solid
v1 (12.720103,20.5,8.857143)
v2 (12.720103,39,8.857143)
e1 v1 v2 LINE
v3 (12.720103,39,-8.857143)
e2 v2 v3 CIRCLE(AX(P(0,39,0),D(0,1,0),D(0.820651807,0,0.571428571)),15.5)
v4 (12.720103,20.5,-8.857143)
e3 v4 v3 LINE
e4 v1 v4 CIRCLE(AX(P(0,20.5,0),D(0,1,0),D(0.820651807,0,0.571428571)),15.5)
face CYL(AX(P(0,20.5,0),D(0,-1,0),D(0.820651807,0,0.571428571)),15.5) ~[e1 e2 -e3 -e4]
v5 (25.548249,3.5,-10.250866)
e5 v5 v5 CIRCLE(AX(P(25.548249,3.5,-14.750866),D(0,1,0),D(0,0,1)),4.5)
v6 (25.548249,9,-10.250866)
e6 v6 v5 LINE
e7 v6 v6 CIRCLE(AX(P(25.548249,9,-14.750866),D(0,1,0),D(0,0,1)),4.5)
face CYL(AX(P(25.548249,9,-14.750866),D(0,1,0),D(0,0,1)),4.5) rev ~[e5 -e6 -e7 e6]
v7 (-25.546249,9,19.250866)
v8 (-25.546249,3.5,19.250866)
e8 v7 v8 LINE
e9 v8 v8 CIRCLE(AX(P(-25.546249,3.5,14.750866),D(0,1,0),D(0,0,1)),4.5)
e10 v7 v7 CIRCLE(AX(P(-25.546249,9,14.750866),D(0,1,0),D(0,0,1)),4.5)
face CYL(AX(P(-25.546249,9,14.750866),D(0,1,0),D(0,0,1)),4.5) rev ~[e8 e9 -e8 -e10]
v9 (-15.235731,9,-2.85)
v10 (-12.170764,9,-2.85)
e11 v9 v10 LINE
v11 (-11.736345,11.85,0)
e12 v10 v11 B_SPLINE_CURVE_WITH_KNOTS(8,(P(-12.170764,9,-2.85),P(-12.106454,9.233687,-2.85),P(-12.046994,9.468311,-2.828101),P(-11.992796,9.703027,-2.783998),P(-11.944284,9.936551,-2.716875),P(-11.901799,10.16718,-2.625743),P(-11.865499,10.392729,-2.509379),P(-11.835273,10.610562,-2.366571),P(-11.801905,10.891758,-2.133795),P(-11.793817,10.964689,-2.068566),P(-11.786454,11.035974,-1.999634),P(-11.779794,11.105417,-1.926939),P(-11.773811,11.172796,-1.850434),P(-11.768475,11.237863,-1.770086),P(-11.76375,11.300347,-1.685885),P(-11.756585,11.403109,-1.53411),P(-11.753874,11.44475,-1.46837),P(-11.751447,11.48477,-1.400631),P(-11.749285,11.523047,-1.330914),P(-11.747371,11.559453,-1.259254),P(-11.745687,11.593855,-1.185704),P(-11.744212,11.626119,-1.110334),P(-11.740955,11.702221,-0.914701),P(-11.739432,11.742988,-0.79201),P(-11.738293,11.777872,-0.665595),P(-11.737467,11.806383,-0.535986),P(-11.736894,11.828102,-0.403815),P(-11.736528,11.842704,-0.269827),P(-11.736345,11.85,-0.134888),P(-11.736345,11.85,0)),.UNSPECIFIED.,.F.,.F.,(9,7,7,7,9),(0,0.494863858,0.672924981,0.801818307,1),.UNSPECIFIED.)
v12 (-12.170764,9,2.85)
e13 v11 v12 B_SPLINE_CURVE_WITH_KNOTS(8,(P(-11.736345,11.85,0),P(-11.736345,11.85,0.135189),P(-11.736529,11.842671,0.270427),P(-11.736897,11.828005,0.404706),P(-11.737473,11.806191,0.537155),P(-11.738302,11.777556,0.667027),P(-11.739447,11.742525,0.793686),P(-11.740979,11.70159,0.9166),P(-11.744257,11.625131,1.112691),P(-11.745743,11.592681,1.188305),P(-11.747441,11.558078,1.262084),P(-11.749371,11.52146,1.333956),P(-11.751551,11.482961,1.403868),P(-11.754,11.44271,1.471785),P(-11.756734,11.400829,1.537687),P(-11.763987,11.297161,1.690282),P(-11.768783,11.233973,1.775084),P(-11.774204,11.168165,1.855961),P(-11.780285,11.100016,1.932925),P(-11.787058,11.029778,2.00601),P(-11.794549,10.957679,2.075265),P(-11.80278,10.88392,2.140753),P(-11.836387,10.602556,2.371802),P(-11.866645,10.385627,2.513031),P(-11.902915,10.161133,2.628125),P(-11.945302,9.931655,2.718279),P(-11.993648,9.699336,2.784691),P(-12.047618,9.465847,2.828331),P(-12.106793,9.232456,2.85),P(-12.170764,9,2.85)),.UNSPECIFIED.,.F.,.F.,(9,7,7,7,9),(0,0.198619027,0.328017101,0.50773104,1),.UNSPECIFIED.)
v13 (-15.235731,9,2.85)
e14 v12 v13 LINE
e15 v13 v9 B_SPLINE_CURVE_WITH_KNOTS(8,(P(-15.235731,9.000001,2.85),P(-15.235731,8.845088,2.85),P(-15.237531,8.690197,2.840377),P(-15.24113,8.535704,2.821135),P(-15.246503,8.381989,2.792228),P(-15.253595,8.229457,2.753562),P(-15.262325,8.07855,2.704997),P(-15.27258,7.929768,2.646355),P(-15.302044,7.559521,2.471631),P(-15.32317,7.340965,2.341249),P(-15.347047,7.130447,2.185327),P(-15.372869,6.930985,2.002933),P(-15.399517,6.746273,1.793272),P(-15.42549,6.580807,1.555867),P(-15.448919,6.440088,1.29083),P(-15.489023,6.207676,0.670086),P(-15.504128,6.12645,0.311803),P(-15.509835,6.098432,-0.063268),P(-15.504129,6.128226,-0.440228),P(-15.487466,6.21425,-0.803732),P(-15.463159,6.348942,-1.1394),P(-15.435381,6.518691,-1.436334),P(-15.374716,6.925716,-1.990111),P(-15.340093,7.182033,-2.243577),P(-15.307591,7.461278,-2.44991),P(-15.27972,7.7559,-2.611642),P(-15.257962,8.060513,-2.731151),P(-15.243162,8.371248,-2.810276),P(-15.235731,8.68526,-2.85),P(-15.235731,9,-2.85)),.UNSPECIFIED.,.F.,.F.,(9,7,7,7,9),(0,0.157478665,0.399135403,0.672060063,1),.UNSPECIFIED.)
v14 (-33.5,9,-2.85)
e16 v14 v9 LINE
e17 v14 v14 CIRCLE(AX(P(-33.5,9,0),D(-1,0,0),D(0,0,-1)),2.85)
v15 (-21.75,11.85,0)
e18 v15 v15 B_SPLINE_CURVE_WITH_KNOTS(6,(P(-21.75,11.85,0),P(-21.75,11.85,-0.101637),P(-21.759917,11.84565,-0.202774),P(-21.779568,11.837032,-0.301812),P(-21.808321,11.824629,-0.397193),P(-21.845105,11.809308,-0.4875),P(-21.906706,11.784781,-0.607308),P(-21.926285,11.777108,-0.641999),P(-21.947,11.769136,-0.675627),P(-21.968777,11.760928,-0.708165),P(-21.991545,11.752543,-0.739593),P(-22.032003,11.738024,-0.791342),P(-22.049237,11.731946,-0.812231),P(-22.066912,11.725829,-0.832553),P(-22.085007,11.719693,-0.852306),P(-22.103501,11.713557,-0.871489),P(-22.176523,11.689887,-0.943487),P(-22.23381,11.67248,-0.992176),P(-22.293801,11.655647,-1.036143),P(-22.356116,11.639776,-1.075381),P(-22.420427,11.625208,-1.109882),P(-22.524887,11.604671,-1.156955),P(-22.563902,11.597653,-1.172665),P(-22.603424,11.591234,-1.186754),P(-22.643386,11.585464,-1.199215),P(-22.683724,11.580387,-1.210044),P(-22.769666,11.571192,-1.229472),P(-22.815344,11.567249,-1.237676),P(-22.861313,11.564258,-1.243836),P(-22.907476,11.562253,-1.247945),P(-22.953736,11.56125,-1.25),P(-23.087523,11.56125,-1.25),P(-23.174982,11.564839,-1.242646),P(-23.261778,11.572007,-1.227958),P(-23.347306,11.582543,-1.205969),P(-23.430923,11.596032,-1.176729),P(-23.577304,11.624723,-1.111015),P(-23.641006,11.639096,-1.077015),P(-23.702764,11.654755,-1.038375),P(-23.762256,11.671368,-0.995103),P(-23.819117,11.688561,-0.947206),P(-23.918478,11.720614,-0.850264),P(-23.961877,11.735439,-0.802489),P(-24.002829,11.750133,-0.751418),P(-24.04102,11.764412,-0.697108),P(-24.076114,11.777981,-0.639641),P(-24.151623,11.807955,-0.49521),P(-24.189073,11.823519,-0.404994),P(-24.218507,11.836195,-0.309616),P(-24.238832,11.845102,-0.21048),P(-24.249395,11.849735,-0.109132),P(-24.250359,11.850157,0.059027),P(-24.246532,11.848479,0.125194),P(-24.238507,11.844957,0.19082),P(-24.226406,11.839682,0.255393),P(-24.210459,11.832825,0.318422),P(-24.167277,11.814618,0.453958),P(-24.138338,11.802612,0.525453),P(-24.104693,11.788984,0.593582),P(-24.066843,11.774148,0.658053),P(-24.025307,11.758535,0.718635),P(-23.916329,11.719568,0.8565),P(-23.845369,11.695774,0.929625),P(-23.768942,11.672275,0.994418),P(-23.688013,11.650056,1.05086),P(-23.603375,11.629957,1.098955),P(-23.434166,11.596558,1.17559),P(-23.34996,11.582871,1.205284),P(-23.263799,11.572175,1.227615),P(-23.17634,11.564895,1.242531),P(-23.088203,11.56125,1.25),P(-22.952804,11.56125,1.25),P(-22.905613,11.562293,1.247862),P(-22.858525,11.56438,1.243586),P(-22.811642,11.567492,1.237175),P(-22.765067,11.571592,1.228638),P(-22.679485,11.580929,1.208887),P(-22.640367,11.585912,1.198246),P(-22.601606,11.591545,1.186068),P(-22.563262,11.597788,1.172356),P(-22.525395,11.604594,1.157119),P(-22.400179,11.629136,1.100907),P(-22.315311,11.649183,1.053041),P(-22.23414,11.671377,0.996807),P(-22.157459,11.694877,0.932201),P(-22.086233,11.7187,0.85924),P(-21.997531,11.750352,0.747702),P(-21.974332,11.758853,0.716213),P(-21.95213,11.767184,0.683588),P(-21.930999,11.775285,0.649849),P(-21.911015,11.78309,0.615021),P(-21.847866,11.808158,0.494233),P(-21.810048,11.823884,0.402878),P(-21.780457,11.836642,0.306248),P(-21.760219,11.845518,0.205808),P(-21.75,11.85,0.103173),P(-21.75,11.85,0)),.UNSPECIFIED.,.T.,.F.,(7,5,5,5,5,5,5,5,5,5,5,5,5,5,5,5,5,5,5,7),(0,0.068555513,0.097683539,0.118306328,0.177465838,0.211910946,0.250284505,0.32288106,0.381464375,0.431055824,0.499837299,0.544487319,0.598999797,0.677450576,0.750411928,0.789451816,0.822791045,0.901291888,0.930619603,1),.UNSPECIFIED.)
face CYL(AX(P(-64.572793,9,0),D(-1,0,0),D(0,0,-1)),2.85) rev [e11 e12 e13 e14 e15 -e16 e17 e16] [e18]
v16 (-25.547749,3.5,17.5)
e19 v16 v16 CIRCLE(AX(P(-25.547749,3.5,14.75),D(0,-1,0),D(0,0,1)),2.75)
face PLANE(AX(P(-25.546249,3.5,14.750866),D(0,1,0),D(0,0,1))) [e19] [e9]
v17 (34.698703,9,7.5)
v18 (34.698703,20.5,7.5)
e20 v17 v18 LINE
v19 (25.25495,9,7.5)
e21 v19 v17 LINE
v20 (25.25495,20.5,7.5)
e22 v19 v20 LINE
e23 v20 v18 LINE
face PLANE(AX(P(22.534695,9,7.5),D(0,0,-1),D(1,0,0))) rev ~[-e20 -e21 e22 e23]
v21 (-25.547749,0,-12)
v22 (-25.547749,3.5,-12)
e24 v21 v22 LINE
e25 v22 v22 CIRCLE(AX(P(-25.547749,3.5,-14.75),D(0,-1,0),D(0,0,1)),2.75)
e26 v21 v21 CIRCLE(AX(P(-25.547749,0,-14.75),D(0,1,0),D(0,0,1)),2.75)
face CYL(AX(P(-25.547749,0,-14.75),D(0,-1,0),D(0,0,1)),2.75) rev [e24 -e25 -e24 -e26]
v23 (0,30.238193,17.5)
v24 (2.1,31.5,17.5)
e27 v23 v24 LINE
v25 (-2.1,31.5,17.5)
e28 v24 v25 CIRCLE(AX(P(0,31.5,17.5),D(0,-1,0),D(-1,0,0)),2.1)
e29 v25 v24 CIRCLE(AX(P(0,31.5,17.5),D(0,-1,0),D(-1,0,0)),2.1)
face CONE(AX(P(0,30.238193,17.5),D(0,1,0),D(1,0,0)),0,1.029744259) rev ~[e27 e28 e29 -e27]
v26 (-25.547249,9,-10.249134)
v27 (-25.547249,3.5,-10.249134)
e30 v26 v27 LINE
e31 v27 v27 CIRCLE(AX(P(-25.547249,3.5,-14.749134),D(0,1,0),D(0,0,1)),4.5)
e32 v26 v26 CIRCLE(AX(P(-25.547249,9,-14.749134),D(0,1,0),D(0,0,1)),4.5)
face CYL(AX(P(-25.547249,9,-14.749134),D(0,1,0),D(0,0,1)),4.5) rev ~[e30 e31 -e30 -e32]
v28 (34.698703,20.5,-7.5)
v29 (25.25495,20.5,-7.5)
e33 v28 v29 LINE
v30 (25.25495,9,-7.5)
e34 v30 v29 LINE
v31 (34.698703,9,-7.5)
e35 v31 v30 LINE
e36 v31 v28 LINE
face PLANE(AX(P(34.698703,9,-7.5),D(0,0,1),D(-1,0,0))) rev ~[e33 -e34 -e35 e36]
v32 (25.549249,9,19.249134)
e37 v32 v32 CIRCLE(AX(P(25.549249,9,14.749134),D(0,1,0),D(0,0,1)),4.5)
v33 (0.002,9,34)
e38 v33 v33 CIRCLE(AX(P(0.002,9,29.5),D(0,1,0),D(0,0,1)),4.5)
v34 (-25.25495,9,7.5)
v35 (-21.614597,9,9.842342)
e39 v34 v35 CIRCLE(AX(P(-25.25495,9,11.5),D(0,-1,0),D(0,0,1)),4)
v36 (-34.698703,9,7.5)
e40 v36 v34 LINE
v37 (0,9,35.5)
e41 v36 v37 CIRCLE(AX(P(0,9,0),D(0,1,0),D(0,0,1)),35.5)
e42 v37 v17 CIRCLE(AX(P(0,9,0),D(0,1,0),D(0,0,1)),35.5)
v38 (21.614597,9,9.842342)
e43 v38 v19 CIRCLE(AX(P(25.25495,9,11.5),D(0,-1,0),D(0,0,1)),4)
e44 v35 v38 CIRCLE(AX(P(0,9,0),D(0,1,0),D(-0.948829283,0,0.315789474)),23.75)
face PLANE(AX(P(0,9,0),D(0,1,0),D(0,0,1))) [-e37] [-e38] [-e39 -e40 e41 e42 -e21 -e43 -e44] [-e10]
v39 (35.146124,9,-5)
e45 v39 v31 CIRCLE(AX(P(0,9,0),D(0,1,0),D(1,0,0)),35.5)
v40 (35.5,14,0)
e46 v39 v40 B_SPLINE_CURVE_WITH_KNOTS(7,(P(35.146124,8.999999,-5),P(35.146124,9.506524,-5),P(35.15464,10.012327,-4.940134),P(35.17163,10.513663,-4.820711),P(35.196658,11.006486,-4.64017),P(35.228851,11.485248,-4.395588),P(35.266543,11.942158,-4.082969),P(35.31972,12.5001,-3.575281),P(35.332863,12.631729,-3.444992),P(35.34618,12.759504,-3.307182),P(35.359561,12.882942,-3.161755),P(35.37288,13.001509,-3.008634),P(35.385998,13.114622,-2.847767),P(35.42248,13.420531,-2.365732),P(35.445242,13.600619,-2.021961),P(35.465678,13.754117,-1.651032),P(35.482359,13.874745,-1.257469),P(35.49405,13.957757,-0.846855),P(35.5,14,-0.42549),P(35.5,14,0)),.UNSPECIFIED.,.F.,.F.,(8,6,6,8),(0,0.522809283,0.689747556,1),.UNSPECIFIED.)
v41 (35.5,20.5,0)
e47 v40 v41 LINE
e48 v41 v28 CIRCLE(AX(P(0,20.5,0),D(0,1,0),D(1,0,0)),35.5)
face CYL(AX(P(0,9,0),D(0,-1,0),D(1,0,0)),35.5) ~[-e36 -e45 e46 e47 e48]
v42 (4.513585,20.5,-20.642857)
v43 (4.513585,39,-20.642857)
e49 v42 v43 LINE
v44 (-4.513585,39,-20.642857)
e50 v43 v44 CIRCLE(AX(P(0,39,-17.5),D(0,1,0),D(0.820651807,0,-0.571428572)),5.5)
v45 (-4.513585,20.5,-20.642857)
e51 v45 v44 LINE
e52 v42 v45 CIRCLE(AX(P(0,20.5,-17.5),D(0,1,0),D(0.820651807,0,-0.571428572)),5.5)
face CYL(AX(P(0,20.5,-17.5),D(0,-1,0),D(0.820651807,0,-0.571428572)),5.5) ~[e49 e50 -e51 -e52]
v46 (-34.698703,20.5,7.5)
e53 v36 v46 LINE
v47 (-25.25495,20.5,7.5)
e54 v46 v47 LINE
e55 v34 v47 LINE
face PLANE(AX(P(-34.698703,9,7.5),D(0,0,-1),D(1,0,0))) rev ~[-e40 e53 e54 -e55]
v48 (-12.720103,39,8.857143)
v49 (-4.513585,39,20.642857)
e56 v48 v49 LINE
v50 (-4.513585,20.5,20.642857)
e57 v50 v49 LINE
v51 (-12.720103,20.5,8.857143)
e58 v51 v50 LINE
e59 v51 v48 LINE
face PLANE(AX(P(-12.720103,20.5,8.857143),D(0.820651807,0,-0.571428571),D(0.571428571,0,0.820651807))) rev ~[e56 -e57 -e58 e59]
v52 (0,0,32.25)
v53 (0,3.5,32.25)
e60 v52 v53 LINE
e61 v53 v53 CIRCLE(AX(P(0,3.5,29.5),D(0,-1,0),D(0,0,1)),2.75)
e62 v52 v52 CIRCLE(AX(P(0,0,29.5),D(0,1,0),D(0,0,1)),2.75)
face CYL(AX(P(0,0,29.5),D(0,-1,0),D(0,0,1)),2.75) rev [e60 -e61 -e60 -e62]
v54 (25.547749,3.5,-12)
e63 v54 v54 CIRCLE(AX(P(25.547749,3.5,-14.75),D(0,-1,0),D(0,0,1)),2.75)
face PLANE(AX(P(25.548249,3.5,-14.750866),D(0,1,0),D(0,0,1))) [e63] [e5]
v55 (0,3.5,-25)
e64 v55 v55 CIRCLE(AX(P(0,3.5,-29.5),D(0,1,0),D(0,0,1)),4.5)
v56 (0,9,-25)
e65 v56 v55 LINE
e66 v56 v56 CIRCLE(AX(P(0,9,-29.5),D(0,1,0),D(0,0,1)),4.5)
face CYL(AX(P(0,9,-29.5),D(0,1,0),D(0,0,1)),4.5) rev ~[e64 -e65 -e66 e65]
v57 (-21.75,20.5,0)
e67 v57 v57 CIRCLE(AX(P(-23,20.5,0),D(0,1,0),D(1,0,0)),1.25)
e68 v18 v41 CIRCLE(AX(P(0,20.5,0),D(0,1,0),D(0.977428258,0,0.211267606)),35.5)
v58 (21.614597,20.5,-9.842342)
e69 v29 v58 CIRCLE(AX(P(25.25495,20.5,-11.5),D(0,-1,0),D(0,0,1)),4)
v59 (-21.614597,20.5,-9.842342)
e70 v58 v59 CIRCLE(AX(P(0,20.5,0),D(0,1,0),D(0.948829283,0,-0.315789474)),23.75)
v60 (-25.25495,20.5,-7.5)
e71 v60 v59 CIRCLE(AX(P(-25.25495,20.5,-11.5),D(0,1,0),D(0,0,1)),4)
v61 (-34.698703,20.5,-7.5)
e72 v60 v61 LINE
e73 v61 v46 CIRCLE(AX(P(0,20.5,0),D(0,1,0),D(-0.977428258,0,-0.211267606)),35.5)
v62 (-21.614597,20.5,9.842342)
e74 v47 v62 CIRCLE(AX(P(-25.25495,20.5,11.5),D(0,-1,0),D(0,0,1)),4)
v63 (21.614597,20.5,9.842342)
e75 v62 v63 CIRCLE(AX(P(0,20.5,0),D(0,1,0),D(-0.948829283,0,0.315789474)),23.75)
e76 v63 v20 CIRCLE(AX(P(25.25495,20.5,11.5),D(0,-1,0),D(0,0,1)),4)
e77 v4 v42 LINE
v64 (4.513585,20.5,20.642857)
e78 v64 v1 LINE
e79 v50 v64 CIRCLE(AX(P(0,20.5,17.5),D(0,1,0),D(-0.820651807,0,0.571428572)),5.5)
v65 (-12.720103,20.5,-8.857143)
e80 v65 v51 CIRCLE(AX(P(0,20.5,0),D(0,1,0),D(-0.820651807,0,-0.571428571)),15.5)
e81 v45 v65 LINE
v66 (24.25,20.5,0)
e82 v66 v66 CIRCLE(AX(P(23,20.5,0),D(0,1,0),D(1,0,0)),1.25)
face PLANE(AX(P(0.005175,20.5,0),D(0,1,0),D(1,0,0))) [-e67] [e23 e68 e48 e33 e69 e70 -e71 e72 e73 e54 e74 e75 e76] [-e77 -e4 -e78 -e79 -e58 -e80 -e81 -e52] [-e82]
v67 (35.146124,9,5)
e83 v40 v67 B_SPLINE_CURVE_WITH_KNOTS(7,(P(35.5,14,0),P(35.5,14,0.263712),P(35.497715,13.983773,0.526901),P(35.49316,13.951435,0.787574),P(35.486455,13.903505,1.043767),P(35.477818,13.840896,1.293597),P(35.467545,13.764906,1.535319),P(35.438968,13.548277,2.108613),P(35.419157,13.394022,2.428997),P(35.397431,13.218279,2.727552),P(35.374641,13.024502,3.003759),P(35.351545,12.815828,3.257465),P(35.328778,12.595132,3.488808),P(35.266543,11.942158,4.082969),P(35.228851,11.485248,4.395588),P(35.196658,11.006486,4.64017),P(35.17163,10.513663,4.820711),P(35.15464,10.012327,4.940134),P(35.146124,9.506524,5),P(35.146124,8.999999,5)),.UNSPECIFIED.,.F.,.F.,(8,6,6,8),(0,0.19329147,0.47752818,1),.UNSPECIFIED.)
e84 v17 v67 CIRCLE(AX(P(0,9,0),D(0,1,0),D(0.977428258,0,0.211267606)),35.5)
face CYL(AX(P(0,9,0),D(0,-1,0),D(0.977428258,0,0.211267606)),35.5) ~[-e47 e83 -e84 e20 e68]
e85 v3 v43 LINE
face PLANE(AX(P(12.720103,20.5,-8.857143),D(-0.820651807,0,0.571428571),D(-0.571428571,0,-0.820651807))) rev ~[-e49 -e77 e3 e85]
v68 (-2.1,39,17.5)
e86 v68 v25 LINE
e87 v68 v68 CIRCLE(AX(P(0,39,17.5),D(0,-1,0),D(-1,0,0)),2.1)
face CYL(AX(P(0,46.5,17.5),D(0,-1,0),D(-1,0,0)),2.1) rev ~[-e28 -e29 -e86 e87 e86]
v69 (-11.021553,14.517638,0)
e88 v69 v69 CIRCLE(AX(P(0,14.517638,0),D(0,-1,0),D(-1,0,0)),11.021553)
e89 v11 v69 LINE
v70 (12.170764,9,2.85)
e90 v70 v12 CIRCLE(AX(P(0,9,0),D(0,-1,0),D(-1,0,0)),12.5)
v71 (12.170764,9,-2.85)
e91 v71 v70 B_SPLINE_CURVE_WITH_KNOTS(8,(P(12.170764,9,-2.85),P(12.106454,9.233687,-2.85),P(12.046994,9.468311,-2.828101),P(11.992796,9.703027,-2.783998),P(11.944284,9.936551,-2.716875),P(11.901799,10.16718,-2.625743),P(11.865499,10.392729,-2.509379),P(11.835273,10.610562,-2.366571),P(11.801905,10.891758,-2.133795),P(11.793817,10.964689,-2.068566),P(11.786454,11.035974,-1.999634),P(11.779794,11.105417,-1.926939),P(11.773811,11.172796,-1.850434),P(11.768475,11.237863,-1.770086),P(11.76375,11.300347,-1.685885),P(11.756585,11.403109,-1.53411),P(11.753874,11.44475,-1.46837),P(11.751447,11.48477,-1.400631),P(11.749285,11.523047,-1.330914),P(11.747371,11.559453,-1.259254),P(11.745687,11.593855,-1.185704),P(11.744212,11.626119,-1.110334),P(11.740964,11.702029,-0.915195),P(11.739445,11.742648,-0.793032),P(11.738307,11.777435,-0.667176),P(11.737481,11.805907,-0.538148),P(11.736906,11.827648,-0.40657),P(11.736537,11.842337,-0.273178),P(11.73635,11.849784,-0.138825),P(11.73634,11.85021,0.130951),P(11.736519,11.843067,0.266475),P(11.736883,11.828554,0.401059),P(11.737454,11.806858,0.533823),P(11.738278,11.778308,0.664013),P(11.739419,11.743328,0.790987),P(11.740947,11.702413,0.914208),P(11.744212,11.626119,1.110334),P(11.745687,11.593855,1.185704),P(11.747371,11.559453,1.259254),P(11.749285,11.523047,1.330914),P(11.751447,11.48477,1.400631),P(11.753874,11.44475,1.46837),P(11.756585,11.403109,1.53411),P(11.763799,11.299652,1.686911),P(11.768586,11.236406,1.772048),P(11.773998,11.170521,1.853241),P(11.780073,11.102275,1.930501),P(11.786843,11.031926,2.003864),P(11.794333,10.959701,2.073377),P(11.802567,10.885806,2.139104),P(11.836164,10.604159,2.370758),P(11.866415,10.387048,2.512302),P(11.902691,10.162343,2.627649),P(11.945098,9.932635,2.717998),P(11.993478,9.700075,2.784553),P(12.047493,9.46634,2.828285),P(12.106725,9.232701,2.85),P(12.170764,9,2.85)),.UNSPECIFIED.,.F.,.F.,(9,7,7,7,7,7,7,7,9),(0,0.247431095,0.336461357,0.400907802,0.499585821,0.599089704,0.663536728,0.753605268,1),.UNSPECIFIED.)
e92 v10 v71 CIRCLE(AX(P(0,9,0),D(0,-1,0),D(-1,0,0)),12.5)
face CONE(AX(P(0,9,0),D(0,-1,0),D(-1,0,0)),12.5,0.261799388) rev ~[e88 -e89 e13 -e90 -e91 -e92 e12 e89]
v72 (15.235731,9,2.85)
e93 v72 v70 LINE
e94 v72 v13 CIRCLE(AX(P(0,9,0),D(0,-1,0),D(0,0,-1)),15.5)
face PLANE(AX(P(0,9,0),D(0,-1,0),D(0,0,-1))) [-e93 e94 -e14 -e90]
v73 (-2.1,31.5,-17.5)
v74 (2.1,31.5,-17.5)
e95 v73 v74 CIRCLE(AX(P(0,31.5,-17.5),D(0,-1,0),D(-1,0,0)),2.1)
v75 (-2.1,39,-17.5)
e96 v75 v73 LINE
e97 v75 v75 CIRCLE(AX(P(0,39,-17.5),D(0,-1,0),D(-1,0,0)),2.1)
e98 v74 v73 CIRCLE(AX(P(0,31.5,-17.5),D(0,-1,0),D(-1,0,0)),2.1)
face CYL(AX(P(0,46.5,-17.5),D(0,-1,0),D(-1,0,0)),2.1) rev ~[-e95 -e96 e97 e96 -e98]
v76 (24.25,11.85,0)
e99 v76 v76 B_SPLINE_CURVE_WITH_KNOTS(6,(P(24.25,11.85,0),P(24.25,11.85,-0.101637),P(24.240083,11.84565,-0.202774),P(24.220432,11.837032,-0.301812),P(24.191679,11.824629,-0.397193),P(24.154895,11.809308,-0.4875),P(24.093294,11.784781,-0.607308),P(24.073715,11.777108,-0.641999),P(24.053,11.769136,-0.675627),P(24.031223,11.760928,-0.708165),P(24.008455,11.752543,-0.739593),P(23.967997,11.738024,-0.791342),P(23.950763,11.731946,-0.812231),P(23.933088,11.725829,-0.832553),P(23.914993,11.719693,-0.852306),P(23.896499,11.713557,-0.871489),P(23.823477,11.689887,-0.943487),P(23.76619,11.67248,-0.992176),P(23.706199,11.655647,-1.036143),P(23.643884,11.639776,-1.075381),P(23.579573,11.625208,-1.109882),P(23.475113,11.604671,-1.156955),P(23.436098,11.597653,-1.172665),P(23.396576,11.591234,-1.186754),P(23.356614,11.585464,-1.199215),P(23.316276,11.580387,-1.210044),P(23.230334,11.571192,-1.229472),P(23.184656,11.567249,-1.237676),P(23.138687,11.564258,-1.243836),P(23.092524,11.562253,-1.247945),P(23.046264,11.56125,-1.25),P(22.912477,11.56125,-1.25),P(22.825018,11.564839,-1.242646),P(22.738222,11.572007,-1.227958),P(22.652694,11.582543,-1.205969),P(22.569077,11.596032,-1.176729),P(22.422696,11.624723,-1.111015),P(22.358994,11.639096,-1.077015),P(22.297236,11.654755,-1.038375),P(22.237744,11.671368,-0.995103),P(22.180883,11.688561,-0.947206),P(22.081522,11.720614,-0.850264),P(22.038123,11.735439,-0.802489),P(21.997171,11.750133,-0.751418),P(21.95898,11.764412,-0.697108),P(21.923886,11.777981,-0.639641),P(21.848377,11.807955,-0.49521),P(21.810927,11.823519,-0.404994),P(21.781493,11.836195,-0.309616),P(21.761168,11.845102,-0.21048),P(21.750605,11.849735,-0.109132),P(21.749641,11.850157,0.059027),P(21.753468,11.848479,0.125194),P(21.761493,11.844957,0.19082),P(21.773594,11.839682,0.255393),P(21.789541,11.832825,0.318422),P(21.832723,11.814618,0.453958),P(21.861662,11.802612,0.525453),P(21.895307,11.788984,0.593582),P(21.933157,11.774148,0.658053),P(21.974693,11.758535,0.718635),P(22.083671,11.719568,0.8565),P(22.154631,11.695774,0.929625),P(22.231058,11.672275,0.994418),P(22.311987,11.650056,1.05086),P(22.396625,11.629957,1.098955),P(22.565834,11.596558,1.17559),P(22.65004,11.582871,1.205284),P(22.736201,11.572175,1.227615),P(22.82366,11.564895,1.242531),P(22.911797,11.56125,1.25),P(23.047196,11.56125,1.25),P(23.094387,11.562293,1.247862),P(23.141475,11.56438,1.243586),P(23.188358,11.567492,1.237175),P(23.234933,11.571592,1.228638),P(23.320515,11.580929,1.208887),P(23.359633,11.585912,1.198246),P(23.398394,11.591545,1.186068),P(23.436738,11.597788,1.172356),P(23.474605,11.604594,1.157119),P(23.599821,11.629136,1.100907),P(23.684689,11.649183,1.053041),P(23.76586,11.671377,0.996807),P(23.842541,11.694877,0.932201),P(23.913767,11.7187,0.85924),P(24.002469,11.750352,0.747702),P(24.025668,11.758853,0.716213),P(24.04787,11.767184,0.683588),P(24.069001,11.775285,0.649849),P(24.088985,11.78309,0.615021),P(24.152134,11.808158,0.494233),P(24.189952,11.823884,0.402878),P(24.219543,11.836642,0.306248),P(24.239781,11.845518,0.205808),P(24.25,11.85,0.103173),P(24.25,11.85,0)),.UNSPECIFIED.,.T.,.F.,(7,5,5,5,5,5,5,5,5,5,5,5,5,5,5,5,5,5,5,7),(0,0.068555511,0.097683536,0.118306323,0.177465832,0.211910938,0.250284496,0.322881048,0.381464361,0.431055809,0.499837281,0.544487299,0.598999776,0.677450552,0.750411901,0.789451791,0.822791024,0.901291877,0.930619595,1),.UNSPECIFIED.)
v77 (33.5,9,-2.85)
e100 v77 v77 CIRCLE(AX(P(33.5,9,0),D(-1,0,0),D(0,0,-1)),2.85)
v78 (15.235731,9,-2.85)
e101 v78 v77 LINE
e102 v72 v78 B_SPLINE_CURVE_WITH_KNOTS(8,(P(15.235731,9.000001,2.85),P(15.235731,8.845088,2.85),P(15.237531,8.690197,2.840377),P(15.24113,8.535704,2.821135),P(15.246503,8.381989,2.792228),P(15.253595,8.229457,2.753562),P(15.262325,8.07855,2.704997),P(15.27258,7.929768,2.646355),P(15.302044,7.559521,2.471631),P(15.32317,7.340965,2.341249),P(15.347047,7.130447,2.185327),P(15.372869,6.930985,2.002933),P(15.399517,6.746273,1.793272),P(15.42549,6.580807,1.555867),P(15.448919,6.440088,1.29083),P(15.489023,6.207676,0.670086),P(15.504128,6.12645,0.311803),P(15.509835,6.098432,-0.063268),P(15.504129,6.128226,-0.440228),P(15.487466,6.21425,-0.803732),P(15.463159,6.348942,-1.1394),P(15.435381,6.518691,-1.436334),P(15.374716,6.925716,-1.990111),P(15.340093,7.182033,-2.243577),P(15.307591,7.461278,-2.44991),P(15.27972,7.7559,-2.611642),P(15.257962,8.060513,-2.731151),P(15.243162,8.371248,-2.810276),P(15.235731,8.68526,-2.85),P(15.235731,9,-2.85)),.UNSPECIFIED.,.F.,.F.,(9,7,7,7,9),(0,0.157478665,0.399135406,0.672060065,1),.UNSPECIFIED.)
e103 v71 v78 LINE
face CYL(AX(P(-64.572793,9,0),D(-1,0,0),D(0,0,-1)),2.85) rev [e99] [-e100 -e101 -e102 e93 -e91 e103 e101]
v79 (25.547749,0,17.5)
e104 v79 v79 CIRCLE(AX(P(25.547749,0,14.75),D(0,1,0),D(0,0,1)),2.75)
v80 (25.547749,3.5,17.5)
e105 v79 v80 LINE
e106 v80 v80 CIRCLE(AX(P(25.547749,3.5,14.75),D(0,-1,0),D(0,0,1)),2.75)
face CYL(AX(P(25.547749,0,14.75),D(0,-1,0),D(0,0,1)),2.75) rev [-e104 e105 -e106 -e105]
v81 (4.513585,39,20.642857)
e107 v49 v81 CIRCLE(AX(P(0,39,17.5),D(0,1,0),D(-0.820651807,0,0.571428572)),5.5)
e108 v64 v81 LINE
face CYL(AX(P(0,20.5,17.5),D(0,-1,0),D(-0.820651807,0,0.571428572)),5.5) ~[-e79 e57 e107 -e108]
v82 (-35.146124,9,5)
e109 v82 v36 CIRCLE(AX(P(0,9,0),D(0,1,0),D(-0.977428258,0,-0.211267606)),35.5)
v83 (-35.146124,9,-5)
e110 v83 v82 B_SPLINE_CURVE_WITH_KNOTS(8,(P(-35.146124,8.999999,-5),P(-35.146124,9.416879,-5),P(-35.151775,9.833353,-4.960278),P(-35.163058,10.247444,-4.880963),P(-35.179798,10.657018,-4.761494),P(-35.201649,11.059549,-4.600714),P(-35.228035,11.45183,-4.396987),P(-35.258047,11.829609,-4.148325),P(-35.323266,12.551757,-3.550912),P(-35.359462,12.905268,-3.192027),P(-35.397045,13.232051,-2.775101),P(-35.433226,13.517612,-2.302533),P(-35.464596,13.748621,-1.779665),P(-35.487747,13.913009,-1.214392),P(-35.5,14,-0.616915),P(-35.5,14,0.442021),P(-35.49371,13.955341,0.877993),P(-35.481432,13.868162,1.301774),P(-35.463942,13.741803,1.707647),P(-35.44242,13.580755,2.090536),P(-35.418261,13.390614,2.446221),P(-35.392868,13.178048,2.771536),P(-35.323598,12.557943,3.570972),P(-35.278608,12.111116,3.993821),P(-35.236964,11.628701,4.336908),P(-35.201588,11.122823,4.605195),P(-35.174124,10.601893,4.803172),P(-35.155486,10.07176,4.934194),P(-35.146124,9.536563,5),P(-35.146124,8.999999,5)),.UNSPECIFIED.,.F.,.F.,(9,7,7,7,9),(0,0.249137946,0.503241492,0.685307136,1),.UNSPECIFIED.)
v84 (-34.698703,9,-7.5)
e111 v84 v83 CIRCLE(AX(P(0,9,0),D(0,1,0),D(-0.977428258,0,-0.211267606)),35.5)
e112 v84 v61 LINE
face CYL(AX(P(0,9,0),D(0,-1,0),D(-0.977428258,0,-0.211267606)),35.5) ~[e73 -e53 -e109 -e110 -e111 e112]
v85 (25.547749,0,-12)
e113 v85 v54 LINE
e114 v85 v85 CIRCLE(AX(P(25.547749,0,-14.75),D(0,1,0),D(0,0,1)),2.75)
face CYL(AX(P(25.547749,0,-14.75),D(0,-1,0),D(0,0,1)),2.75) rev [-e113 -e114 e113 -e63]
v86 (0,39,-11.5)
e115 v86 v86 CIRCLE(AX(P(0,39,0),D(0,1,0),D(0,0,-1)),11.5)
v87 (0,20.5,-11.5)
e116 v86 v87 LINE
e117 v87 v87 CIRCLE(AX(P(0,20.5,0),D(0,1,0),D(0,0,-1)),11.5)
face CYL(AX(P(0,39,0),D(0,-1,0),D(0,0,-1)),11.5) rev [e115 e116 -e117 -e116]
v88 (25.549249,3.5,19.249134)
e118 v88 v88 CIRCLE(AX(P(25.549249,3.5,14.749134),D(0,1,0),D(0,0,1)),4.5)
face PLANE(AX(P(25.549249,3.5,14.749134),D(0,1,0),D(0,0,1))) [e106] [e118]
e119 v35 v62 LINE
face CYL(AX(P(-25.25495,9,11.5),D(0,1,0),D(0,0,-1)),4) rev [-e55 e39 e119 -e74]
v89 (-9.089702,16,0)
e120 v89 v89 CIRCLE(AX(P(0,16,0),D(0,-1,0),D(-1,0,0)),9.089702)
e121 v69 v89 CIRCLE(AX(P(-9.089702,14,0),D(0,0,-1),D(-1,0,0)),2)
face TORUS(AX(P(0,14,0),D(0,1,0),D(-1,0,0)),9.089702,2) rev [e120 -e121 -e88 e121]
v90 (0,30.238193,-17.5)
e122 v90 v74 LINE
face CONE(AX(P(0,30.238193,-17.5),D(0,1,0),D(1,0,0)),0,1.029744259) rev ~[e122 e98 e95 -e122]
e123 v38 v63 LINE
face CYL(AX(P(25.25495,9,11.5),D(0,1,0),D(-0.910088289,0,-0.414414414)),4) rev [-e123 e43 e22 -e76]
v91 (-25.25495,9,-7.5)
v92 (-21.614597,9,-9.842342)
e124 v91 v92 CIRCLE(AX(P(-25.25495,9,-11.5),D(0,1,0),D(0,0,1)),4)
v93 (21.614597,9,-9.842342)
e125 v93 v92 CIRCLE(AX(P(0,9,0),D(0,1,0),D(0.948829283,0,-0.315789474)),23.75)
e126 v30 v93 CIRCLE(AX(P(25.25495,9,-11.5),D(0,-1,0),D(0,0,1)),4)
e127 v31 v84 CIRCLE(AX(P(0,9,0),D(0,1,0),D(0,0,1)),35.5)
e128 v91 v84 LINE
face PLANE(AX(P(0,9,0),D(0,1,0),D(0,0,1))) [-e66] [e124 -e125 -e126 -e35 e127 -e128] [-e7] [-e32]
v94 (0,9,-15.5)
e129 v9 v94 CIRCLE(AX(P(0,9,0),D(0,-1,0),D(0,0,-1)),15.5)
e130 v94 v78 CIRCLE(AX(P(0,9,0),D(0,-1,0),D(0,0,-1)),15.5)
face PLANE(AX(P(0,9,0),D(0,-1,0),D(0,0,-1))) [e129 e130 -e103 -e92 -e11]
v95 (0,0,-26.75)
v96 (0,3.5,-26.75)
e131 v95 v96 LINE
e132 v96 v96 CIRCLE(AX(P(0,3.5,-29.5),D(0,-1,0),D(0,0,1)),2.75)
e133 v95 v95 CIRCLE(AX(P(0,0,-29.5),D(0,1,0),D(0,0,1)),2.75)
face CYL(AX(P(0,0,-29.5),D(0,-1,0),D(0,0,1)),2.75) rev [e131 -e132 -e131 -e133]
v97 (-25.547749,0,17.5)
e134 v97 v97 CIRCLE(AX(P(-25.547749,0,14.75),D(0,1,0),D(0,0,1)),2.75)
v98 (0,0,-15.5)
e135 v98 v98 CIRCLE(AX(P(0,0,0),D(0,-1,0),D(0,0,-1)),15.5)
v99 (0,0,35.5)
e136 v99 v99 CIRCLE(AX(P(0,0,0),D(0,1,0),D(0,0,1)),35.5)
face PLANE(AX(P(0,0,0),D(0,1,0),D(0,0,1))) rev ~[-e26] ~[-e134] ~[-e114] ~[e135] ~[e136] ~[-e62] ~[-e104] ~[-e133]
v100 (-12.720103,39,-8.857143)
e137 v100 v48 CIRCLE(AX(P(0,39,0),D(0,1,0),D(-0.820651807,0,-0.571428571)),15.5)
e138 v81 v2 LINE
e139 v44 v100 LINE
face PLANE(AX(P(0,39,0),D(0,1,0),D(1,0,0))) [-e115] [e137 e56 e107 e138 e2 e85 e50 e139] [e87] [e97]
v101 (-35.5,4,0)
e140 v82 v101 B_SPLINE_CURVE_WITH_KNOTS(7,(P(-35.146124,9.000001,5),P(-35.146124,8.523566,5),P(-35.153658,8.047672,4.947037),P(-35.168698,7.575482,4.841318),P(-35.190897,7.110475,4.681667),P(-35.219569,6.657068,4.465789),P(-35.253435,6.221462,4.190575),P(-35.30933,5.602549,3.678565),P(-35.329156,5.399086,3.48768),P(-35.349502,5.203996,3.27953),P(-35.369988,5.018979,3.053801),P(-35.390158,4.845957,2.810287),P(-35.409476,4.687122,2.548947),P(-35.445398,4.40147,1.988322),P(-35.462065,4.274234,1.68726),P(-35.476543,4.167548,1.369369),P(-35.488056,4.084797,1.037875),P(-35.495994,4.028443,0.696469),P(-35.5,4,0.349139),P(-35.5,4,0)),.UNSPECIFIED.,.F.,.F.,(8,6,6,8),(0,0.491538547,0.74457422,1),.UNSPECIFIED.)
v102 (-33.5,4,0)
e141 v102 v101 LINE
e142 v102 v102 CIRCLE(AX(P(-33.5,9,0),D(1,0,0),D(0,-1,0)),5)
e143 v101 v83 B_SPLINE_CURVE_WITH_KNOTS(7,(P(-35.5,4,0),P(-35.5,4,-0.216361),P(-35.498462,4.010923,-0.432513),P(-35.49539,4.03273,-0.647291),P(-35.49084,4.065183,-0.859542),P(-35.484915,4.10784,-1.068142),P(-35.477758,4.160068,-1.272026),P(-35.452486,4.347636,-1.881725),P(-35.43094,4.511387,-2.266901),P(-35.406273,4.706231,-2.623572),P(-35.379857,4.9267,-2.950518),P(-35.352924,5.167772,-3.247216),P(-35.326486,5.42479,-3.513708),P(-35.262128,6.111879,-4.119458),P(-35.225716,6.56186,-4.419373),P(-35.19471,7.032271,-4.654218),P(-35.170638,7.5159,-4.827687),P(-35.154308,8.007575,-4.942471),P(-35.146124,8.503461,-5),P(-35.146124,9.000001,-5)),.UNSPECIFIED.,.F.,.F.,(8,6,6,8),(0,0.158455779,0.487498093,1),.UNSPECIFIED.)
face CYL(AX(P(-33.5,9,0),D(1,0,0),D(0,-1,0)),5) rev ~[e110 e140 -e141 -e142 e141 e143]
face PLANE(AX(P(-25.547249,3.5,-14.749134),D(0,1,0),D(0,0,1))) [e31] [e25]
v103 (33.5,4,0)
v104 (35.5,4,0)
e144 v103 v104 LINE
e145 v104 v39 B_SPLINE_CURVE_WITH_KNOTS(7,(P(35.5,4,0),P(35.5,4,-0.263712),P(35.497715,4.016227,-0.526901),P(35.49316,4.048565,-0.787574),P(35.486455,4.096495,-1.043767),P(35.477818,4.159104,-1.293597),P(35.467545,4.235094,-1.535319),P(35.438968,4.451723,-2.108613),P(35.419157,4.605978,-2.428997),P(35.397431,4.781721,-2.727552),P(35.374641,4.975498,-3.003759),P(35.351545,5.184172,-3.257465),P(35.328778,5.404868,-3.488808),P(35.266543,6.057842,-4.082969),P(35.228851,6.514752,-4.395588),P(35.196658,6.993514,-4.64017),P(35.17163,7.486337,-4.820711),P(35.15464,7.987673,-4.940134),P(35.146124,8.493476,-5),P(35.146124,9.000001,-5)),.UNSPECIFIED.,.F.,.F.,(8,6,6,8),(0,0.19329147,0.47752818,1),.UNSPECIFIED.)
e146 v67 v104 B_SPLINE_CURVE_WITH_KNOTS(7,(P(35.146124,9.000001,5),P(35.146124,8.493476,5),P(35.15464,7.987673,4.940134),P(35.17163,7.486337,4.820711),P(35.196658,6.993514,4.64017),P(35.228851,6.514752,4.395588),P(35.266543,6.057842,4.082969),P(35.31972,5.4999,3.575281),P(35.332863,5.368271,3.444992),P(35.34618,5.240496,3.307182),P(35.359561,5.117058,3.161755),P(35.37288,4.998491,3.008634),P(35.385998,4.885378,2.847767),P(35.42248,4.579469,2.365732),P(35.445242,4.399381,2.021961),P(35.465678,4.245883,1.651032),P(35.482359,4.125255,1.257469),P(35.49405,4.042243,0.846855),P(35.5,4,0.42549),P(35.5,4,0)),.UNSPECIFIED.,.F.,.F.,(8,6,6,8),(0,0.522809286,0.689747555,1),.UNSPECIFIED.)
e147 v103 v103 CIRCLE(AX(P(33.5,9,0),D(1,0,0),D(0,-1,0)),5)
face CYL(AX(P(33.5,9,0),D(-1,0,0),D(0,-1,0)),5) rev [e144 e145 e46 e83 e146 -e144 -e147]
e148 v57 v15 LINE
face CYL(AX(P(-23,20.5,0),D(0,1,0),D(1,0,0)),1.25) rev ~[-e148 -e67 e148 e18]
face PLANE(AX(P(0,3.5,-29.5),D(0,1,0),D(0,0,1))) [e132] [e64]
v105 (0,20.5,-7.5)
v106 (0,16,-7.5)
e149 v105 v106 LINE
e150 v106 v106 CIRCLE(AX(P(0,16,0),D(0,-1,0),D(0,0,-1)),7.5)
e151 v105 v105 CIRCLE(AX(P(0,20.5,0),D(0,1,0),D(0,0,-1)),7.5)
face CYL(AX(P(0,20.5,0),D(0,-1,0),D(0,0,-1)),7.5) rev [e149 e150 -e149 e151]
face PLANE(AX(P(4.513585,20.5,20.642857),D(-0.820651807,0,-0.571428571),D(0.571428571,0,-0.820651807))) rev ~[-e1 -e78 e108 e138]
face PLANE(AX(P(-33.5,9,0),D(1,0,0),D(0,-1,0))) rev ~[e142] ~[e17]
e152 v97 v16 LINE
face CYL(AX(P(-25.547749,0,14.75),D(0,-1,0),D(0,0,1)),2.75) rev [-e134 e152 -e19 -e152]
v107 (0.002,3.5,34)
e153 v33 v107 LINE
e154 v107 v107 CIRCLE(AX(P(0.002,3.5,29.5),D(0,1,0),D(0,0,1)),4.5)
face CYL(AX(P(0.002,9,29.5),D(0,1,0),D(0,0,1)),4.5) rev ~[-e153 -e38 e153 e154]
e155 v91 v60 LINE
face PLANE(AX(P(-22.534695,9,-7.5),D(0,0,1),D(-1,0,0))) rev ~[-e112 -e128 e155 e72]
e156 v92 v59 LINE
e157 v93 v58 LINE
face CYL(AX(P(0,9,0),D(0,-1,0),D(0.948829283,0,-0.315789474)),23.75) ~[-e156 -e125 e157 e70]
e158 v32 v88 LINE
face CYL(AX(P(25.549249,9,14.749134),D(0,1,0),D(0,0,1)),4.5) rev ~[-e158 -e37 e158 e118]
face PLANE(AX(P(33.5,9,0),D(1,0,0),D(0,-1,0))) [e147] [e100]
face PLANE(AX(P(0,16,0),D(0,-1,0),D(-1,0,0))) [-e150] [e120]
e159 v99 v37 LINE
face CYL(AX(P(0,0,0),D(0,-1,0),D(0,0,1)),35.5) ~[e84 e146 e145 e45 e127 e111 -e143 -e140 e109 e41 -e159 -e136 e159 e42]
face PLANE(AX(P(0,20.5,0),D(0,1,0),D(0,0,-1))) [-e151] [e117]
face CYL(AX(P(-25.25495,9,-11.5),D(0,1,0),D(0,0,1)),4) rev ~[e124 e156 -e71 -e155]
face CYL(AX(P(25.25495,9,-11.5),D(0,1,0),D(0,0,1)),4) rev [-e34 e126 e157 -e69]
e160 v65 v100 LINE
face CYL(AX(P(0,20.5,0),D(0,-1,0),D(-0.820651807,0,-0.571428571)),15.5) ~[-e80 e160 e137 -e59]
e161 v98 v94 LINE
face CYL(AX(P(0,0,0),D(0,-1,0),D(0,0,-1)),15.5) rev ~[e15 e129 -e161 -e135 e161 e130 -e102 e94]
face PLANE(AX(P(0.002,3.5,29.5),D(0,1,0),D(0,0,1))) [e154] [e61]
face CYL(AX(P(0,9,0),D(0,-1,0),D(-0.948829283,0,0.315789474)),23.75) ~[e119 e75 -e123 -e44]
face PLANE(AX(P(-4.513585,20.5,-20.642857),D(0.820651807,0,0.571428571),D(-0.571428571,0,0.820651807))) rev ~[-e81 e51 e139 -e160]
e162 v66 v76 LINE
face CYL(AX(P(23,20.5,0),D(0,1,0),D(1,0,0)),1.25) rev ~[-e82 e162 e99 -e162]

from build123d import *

# Parameters (mm, degrees)
SKETCH_1_R                   = 35.5
SKETCH_1_R_2                 = 2.75
EXTRUDE_1_DEPTH              = 9
SKETCH_2_R                   = 4.5
CUT_EXTRUDE_1_DEPTH          = 5.5
EXTRUDE_2_DEPTH              = 11.5
FILLET_1_R                   = 4
EXTRUDE_3_DEPTH              = 18.5
HOLE_WIZARD_M5_1_D           = 4.2
HOLE_WIZARD_M5_1_DEPTH       = 7.5
HOLE_WIZARD_M5_1_TIP         = 1.2618073
CUT_EXTRUDE_3_DEPTH          = 64.572792923
CUT_EXTRUDE_3_DEPTH_BACK     = 64.572792923
SKETCH_13_R                  = 2.85
SKETCH_14_R                  = 5
CUT_EXTRUDE_4_DEPTH          = 87.846128416
SKETCH_15_R                  = 5
CUT_EXTRUDE_5_DEPTH          = 87.846128416
HOLE_WIZARD_2_5_2_5_1_REACH  = 56.229
HOLE_WIZARD_2_5_2_5_1_BORE_R = 1.25
SKETCH_19_R                  = 12.5
CUT_EXTRUDE_6_DEPTH          = 7
CUT_EXTRUDE_6_DRAFT          = -15
SKETCH_20_R                  = 15.5
CUT_EXTRUDE_7_DEPTH          = 9
FILLET_2_R                   = 2


with BuildPart() as part:
    # 스케치1 → 보스-돌출1 (new body)
    with BuildSketch(Plane(origin=(0, 0, 0), x_dir=(1, 0, 0), z_dir=(0, 1, 0))):
        with Locations(Location((0, 0, 0), (0, 0, 270))):
            Circle(SKETCH_1_R)
        with Locations(Location((0, 29.5, 0), (0, 0, 270))):
            Circle(SKETCH_1_R_2, mode=Mode.SUBTRACT)
        with Locations(Location((25.547749412, 14.75, 0), (0, 0, 270))):
            Circle(SKETCH_1_R_2, mode=Mode.SUBTRACT)
        with Locations(Location((25.547749412, -14.75, 0), (0, 0, 270))):
            Circle(SKETCH_1_R_2, mode=Mode.SUBTRACT)
        with Locations(Location((0, -29.5, 0), (0, 0, 270))):
            Circle(SKETCH_1_R_2, mode=Mode.SUBTRACT)
        with Locations(Location((-25.547749412, -14.75, 0), (0, 0, 270))):
            Circle(SKETCH_1_R_2, mode=Mode.SUBTRACT)
        with Locations(Location((-25.547749412, 14.75, 0), (0, 0, 270))):
            Circle(SKETCH_1_R_2, mode=Mode.SUBTRACT)
    extrude(amount=EXTRUDE_1_DEPTH)

    # 스케치2 → 컷-돌출1 (cut)
    with BuildSketch(Plane(origin=(0, 9, 0), x_dir=(1, 0, 0), z_dir=(0, 1, 0))):
        with Locations(Location((0, 29.5, 0), (0, 0, 270))):
            Circle(SKETCH_2_R)
        with Locations(Location((25.548249412, 14.750866025, 0), (0, 0, 270))):
            Circle(SKETCH_2_R)
        with Locations(Location((25.549249412, -14.749133975, 0), (0, 0, 270))):
            Circle(SKETCH_2_R)
        with Locations(Location((0.002, -29.5, 0), (0, 0, 270))):
            Circle(SKETCH_2_R)
        with Locations(Location((-25.546249412, -14.750866025, 0), (0, 0, 270))):
            Circle(SKETCH_2_R)
        with Locations(Location((-25.547249412, 14.749133975, 0), (0, 0, 270))):
            Circle(SKETCH_2_R)
    extrude(amount=-CUT_EXTRUDE_1_DEPTH, mode=Mode.SUBTRACT)

    # 스케치3 → 보스-돌출2 (add)
    with BuildSketch(Plane(origin=(0, 9, 0), x_dir=(1, 0, 0), z_dir=(0, 1, 0))):
        with BuildLine():
            ThreePointArc((35.5, 0), (35.299107366, 3.771341825), (34.698703146, 7.5))
            Line((34.698703146, 7.5), (22.534695472, 7.5))
            ThreePointArc((22.534695472, 7.5), (0, 23.75), (-22.534695472, 7.5))
            Line((-22.534695472, 7.5), (-34.698703146, 7.5))
            ThreePointArc((-34.698703146, 7.5), (-35.5, 0), (-34.698703146, -7.5))
            Line((-34.698703146, -7.5), (-22.534695472, -7.5))
            ThreePointArc((-22.534695472, -7.5), (0, -23.75), (22.534695472, -7.5))
            Line((22.534695472, -7.5), (34.698703146, -7.5))
            ThreePointArc((34.698703146, -7.5), (35.299107366, -3.771341825), (35.5, 0))
        make_face()
    extrude(amount=EXTRUDE_2_DEPTH)

    # 필렛1
    fillet_1_edges = [part.edges().sort_by_distance(p)[0] for p in [
        (22.534695472, 14.75, -7.5),
        (-22.534695472, 14.75, -7.5),
        (-22.534695472, 14.75, 7.5),
        (22.534695472, 14.75, 7.5),
    ]]
    fillet(fillet_1_edges, radius=FILLET_1_R)

    # 스케치8 → 보스-돌출3 (add)
    with BuildSketch(Plane(origin=(0, 20.5, 0), x_dir=(1, 0, 0), z_dir=(0, 1, 0))):
        with BuildLine():
            Line((-4.513584937, 20.642857143), (-12.720103003, 8.857142857))
            ThreePointArc((-12.720103003, 8.857142857), (-15.5, 0), (-12.720103003, -8.857142857))
            Line((-12.720103003, -8.857142857), (-4.513584937, -20.642857143))
            ThreePointArc((-4.513584937, -20.642857143), (0, -23), (4.513584937, -20.642857143))
            Line((4.513584937, -20.642857143), (12.720103003, -8.857142857))
            ThreePointArc((12.720103003, -8.857142857), (15.5, 0), (12.720103003, 8.857142857))
            Line((12.720103003, 8.857142857), (4.513584937, 20.642857143))
            ThreePointArc((4.513584937, 20.642857143), (0, 23), (-4.513584937, 20.642857143))
        make_face()
    extrude(amount=EXTRUDE_3_DEPTH)

    # M5 나사 구멍1
    with Locations(Plane(origin=(0, 39, 0), x_dir=(1, 0, 0), z_dir=(0, 1, 0))):
        with Locations((0, 17.5), (0, -17.5)):
            Hole(HOLE_WIZARD_M5_1_D / 2, depth=HOLE_WIZARD_M5_1_DEPTH)
            with Locations((0, 0, -(HOLE_WIZARD_M5_1_DEPTH + HOLE_WIZARD_M5_1_TIP / 2))):  # 118° drill point
                Cone(0, HOLE_WIZARD_M5_1_D / 2, HOLE_WIZARD_M5_1_TIP, mode=Mode.SUBTRACT)

    # 스케치13 → 컷-돌출3 (cut, two sides: drawn at the far end of the back side and taken through both)
    with BuildSketch(Plane(origin=(0, 0, 0), x_dir=(0, 0, -1), z_dir=(1, 0, 0)).offset(-CUT_EXTRUDE_3_DEPTH_BACK)):
        with Locations((0, 9)):
            Circle(SKETCH_13_R)
    extrude(amount=CUT_EXTRUDE_3_DEPTH + CUT_EXTRUDE_3_DEPTH_BACK, mode=Mode.SUBTRACT)

    # 스케치14 → 컷-돌출4 (cut, through all)
    with BuildSketch(Plane(origin=(33.5, 0, 0), x_dir=(0, 0, -1), z_dir=(1, 0, 0))):
        with Locations(Location((0, 9, 0), (0, 0, 270))):
            Circle(SKETCH_14_R)
    extrude(amount=CUT_EXTRUDE_4_DEPTH, mode=Mode.SUBTRACT)

    # 스케치15 → 컷-돌출5 (cut, through all)
    with BuildSketch(Plane(origin=(-33.5, 0, 0), x_dir=(0, 0, -1), z_dir=(1, 0, 0))):
        with Locations(Location((0, 9, 0), (0, 0, 270))):
            Circle(SKETCH_15_R)
    extrude(amount=-CUT_EXTRUDE_5_DEPTH, mode=Mode.SUBTRACT)

    # Ø2.5 (2.5) 지름 구멍1 bore → Ø2.5 (2.5) 지름 구멍1 (cut, up to next)
    with BuildSketch(Plane(origin=(0, 20.5, 0), x_dir=(1, 0, 0), z_dir=(0, 1, 0)), mode=Mode.PRIVATE) as hole_wizard_2_5_2_5_1_sk1:
        with Locations((23, 0)):
            Circle(HOLE_WIZARD_2_5_2_5_1_BORE_R)
    hole_wizard_2_5_2_5_1_tool1 = extrude(hole_wizard_2_5_2_5_1_sk1.sketch, amount=-HOLE_WIZARD_2_5_2_5_1_REACH, mode=Mode.PRIVATE) & part.part
    # Ø2.5 (2.5) 지름 구멍1 bore → Ø2.5 (2.5) 지름 구멍1 (cut, up to next)
    with BuildSketch(Plane(origin=(0, 20.5, 0), x_dir=(1, 0, 0), z_dir=(0, 1, 0)), mode=Mode.PRIVATE) as hole_wizard_2_5_2_5_1_sk2:
        with Locations((-23, 0)):
            Circle(HOLE_WIZARD_2_5_2_5_1_BORE_R)
    hole_wizard_2_5_2_5_1_tool2 = extrude(hole_wizard_2_5_2_5_1_sk2.sketch, amount=-HOLE_WIZARD_2_5_2_5_1_REACH, mode=Mode.PRIVATE) & part.part
    add(hole_wizard_2_5_2_5_1_tool1.solids().sort_by_distance((23, 20.5, 0))[0], mode=Mode.SUBTRACT)
    add(hole_wizard_2_5_2_5_1_tool2.solids().sort_by_distance((-23, 20.5, 0))[0], mode=Mode.SUBTRACT)

    # 스케치10 → 컷-회전1 (revolve, cut)
    with BuildSketch(Plane.XY, mode=Mode.PRIVATE) as cut_revolve_1_sk:
        Polygon((11.5, 39), (11.5, 20.5), (7.5, 20.5), (7.5, 0), (0, 0), (0, 39), align=None)
    revolve(cut_revolve_1_sk.sketch.rotate(Axis((0, 0, 0), (0, 1, 0)), 90), axis=Axis((0, 0, 0), (0, 1, 0)), mode=Mode.SUBTRACT)


with BuildPart() as cut_extrude_6_tool:
    # 스케치19 → 컷-돌출6 (with draft: the straight prism first)
    with BuildSketch(Plane(origin=(0, 9, 0), x_dir=(-1, 0, 0), z_dir=(0, -1, 0))):
        Circle(SKETCH_19_R)
    extrude(amount=-CUT_EXTRUDE_6_DEPTH)
    # 컷-돌출6: the draft: its side faces are tilted about the plane it starts from
    cut_extrude_6_sides = [cut_extrude_6_tool.faces().sort_by_distance(p)[0] for p in [
        (12.5, 12.5, 0),
    ]]
    draft(cut_extrude_6_sides, Plane(origin=(0, 9, 0), x_dir=(-1, 0, 0), z_dir=(0, -1, 0)), CUT_EXTRUDE_6_DRAFT)


with BuildPart() as part_1:
    add(part.part)

    # 컷-돌출6: cut by cut_extrude_6_tool
    add(cut_extrude_6_tool.part, mode=Mode.SUBTRACT)

    # 스케치20 → 컷-돌출7 (cut)
    with BuildSketch(Plane.XZ):
        with Locations(Location((0, 0, 0), (0, 0, 270))):
            Circle(SKETCH_20_R)
    extrude(amount=-CUT_EXTRUDE_7_DEPTH, mode=Mode.SUBTRACT)

    # 필렛2
    fillet_2_edges = [part_1.edges().sort_by_distance(p)[0] for p in [
        (10.624355653, 16, 0),
    ]]
    fillet(fillet_2_edges, radius=FILLET_2_R)


solid = part_1.part
